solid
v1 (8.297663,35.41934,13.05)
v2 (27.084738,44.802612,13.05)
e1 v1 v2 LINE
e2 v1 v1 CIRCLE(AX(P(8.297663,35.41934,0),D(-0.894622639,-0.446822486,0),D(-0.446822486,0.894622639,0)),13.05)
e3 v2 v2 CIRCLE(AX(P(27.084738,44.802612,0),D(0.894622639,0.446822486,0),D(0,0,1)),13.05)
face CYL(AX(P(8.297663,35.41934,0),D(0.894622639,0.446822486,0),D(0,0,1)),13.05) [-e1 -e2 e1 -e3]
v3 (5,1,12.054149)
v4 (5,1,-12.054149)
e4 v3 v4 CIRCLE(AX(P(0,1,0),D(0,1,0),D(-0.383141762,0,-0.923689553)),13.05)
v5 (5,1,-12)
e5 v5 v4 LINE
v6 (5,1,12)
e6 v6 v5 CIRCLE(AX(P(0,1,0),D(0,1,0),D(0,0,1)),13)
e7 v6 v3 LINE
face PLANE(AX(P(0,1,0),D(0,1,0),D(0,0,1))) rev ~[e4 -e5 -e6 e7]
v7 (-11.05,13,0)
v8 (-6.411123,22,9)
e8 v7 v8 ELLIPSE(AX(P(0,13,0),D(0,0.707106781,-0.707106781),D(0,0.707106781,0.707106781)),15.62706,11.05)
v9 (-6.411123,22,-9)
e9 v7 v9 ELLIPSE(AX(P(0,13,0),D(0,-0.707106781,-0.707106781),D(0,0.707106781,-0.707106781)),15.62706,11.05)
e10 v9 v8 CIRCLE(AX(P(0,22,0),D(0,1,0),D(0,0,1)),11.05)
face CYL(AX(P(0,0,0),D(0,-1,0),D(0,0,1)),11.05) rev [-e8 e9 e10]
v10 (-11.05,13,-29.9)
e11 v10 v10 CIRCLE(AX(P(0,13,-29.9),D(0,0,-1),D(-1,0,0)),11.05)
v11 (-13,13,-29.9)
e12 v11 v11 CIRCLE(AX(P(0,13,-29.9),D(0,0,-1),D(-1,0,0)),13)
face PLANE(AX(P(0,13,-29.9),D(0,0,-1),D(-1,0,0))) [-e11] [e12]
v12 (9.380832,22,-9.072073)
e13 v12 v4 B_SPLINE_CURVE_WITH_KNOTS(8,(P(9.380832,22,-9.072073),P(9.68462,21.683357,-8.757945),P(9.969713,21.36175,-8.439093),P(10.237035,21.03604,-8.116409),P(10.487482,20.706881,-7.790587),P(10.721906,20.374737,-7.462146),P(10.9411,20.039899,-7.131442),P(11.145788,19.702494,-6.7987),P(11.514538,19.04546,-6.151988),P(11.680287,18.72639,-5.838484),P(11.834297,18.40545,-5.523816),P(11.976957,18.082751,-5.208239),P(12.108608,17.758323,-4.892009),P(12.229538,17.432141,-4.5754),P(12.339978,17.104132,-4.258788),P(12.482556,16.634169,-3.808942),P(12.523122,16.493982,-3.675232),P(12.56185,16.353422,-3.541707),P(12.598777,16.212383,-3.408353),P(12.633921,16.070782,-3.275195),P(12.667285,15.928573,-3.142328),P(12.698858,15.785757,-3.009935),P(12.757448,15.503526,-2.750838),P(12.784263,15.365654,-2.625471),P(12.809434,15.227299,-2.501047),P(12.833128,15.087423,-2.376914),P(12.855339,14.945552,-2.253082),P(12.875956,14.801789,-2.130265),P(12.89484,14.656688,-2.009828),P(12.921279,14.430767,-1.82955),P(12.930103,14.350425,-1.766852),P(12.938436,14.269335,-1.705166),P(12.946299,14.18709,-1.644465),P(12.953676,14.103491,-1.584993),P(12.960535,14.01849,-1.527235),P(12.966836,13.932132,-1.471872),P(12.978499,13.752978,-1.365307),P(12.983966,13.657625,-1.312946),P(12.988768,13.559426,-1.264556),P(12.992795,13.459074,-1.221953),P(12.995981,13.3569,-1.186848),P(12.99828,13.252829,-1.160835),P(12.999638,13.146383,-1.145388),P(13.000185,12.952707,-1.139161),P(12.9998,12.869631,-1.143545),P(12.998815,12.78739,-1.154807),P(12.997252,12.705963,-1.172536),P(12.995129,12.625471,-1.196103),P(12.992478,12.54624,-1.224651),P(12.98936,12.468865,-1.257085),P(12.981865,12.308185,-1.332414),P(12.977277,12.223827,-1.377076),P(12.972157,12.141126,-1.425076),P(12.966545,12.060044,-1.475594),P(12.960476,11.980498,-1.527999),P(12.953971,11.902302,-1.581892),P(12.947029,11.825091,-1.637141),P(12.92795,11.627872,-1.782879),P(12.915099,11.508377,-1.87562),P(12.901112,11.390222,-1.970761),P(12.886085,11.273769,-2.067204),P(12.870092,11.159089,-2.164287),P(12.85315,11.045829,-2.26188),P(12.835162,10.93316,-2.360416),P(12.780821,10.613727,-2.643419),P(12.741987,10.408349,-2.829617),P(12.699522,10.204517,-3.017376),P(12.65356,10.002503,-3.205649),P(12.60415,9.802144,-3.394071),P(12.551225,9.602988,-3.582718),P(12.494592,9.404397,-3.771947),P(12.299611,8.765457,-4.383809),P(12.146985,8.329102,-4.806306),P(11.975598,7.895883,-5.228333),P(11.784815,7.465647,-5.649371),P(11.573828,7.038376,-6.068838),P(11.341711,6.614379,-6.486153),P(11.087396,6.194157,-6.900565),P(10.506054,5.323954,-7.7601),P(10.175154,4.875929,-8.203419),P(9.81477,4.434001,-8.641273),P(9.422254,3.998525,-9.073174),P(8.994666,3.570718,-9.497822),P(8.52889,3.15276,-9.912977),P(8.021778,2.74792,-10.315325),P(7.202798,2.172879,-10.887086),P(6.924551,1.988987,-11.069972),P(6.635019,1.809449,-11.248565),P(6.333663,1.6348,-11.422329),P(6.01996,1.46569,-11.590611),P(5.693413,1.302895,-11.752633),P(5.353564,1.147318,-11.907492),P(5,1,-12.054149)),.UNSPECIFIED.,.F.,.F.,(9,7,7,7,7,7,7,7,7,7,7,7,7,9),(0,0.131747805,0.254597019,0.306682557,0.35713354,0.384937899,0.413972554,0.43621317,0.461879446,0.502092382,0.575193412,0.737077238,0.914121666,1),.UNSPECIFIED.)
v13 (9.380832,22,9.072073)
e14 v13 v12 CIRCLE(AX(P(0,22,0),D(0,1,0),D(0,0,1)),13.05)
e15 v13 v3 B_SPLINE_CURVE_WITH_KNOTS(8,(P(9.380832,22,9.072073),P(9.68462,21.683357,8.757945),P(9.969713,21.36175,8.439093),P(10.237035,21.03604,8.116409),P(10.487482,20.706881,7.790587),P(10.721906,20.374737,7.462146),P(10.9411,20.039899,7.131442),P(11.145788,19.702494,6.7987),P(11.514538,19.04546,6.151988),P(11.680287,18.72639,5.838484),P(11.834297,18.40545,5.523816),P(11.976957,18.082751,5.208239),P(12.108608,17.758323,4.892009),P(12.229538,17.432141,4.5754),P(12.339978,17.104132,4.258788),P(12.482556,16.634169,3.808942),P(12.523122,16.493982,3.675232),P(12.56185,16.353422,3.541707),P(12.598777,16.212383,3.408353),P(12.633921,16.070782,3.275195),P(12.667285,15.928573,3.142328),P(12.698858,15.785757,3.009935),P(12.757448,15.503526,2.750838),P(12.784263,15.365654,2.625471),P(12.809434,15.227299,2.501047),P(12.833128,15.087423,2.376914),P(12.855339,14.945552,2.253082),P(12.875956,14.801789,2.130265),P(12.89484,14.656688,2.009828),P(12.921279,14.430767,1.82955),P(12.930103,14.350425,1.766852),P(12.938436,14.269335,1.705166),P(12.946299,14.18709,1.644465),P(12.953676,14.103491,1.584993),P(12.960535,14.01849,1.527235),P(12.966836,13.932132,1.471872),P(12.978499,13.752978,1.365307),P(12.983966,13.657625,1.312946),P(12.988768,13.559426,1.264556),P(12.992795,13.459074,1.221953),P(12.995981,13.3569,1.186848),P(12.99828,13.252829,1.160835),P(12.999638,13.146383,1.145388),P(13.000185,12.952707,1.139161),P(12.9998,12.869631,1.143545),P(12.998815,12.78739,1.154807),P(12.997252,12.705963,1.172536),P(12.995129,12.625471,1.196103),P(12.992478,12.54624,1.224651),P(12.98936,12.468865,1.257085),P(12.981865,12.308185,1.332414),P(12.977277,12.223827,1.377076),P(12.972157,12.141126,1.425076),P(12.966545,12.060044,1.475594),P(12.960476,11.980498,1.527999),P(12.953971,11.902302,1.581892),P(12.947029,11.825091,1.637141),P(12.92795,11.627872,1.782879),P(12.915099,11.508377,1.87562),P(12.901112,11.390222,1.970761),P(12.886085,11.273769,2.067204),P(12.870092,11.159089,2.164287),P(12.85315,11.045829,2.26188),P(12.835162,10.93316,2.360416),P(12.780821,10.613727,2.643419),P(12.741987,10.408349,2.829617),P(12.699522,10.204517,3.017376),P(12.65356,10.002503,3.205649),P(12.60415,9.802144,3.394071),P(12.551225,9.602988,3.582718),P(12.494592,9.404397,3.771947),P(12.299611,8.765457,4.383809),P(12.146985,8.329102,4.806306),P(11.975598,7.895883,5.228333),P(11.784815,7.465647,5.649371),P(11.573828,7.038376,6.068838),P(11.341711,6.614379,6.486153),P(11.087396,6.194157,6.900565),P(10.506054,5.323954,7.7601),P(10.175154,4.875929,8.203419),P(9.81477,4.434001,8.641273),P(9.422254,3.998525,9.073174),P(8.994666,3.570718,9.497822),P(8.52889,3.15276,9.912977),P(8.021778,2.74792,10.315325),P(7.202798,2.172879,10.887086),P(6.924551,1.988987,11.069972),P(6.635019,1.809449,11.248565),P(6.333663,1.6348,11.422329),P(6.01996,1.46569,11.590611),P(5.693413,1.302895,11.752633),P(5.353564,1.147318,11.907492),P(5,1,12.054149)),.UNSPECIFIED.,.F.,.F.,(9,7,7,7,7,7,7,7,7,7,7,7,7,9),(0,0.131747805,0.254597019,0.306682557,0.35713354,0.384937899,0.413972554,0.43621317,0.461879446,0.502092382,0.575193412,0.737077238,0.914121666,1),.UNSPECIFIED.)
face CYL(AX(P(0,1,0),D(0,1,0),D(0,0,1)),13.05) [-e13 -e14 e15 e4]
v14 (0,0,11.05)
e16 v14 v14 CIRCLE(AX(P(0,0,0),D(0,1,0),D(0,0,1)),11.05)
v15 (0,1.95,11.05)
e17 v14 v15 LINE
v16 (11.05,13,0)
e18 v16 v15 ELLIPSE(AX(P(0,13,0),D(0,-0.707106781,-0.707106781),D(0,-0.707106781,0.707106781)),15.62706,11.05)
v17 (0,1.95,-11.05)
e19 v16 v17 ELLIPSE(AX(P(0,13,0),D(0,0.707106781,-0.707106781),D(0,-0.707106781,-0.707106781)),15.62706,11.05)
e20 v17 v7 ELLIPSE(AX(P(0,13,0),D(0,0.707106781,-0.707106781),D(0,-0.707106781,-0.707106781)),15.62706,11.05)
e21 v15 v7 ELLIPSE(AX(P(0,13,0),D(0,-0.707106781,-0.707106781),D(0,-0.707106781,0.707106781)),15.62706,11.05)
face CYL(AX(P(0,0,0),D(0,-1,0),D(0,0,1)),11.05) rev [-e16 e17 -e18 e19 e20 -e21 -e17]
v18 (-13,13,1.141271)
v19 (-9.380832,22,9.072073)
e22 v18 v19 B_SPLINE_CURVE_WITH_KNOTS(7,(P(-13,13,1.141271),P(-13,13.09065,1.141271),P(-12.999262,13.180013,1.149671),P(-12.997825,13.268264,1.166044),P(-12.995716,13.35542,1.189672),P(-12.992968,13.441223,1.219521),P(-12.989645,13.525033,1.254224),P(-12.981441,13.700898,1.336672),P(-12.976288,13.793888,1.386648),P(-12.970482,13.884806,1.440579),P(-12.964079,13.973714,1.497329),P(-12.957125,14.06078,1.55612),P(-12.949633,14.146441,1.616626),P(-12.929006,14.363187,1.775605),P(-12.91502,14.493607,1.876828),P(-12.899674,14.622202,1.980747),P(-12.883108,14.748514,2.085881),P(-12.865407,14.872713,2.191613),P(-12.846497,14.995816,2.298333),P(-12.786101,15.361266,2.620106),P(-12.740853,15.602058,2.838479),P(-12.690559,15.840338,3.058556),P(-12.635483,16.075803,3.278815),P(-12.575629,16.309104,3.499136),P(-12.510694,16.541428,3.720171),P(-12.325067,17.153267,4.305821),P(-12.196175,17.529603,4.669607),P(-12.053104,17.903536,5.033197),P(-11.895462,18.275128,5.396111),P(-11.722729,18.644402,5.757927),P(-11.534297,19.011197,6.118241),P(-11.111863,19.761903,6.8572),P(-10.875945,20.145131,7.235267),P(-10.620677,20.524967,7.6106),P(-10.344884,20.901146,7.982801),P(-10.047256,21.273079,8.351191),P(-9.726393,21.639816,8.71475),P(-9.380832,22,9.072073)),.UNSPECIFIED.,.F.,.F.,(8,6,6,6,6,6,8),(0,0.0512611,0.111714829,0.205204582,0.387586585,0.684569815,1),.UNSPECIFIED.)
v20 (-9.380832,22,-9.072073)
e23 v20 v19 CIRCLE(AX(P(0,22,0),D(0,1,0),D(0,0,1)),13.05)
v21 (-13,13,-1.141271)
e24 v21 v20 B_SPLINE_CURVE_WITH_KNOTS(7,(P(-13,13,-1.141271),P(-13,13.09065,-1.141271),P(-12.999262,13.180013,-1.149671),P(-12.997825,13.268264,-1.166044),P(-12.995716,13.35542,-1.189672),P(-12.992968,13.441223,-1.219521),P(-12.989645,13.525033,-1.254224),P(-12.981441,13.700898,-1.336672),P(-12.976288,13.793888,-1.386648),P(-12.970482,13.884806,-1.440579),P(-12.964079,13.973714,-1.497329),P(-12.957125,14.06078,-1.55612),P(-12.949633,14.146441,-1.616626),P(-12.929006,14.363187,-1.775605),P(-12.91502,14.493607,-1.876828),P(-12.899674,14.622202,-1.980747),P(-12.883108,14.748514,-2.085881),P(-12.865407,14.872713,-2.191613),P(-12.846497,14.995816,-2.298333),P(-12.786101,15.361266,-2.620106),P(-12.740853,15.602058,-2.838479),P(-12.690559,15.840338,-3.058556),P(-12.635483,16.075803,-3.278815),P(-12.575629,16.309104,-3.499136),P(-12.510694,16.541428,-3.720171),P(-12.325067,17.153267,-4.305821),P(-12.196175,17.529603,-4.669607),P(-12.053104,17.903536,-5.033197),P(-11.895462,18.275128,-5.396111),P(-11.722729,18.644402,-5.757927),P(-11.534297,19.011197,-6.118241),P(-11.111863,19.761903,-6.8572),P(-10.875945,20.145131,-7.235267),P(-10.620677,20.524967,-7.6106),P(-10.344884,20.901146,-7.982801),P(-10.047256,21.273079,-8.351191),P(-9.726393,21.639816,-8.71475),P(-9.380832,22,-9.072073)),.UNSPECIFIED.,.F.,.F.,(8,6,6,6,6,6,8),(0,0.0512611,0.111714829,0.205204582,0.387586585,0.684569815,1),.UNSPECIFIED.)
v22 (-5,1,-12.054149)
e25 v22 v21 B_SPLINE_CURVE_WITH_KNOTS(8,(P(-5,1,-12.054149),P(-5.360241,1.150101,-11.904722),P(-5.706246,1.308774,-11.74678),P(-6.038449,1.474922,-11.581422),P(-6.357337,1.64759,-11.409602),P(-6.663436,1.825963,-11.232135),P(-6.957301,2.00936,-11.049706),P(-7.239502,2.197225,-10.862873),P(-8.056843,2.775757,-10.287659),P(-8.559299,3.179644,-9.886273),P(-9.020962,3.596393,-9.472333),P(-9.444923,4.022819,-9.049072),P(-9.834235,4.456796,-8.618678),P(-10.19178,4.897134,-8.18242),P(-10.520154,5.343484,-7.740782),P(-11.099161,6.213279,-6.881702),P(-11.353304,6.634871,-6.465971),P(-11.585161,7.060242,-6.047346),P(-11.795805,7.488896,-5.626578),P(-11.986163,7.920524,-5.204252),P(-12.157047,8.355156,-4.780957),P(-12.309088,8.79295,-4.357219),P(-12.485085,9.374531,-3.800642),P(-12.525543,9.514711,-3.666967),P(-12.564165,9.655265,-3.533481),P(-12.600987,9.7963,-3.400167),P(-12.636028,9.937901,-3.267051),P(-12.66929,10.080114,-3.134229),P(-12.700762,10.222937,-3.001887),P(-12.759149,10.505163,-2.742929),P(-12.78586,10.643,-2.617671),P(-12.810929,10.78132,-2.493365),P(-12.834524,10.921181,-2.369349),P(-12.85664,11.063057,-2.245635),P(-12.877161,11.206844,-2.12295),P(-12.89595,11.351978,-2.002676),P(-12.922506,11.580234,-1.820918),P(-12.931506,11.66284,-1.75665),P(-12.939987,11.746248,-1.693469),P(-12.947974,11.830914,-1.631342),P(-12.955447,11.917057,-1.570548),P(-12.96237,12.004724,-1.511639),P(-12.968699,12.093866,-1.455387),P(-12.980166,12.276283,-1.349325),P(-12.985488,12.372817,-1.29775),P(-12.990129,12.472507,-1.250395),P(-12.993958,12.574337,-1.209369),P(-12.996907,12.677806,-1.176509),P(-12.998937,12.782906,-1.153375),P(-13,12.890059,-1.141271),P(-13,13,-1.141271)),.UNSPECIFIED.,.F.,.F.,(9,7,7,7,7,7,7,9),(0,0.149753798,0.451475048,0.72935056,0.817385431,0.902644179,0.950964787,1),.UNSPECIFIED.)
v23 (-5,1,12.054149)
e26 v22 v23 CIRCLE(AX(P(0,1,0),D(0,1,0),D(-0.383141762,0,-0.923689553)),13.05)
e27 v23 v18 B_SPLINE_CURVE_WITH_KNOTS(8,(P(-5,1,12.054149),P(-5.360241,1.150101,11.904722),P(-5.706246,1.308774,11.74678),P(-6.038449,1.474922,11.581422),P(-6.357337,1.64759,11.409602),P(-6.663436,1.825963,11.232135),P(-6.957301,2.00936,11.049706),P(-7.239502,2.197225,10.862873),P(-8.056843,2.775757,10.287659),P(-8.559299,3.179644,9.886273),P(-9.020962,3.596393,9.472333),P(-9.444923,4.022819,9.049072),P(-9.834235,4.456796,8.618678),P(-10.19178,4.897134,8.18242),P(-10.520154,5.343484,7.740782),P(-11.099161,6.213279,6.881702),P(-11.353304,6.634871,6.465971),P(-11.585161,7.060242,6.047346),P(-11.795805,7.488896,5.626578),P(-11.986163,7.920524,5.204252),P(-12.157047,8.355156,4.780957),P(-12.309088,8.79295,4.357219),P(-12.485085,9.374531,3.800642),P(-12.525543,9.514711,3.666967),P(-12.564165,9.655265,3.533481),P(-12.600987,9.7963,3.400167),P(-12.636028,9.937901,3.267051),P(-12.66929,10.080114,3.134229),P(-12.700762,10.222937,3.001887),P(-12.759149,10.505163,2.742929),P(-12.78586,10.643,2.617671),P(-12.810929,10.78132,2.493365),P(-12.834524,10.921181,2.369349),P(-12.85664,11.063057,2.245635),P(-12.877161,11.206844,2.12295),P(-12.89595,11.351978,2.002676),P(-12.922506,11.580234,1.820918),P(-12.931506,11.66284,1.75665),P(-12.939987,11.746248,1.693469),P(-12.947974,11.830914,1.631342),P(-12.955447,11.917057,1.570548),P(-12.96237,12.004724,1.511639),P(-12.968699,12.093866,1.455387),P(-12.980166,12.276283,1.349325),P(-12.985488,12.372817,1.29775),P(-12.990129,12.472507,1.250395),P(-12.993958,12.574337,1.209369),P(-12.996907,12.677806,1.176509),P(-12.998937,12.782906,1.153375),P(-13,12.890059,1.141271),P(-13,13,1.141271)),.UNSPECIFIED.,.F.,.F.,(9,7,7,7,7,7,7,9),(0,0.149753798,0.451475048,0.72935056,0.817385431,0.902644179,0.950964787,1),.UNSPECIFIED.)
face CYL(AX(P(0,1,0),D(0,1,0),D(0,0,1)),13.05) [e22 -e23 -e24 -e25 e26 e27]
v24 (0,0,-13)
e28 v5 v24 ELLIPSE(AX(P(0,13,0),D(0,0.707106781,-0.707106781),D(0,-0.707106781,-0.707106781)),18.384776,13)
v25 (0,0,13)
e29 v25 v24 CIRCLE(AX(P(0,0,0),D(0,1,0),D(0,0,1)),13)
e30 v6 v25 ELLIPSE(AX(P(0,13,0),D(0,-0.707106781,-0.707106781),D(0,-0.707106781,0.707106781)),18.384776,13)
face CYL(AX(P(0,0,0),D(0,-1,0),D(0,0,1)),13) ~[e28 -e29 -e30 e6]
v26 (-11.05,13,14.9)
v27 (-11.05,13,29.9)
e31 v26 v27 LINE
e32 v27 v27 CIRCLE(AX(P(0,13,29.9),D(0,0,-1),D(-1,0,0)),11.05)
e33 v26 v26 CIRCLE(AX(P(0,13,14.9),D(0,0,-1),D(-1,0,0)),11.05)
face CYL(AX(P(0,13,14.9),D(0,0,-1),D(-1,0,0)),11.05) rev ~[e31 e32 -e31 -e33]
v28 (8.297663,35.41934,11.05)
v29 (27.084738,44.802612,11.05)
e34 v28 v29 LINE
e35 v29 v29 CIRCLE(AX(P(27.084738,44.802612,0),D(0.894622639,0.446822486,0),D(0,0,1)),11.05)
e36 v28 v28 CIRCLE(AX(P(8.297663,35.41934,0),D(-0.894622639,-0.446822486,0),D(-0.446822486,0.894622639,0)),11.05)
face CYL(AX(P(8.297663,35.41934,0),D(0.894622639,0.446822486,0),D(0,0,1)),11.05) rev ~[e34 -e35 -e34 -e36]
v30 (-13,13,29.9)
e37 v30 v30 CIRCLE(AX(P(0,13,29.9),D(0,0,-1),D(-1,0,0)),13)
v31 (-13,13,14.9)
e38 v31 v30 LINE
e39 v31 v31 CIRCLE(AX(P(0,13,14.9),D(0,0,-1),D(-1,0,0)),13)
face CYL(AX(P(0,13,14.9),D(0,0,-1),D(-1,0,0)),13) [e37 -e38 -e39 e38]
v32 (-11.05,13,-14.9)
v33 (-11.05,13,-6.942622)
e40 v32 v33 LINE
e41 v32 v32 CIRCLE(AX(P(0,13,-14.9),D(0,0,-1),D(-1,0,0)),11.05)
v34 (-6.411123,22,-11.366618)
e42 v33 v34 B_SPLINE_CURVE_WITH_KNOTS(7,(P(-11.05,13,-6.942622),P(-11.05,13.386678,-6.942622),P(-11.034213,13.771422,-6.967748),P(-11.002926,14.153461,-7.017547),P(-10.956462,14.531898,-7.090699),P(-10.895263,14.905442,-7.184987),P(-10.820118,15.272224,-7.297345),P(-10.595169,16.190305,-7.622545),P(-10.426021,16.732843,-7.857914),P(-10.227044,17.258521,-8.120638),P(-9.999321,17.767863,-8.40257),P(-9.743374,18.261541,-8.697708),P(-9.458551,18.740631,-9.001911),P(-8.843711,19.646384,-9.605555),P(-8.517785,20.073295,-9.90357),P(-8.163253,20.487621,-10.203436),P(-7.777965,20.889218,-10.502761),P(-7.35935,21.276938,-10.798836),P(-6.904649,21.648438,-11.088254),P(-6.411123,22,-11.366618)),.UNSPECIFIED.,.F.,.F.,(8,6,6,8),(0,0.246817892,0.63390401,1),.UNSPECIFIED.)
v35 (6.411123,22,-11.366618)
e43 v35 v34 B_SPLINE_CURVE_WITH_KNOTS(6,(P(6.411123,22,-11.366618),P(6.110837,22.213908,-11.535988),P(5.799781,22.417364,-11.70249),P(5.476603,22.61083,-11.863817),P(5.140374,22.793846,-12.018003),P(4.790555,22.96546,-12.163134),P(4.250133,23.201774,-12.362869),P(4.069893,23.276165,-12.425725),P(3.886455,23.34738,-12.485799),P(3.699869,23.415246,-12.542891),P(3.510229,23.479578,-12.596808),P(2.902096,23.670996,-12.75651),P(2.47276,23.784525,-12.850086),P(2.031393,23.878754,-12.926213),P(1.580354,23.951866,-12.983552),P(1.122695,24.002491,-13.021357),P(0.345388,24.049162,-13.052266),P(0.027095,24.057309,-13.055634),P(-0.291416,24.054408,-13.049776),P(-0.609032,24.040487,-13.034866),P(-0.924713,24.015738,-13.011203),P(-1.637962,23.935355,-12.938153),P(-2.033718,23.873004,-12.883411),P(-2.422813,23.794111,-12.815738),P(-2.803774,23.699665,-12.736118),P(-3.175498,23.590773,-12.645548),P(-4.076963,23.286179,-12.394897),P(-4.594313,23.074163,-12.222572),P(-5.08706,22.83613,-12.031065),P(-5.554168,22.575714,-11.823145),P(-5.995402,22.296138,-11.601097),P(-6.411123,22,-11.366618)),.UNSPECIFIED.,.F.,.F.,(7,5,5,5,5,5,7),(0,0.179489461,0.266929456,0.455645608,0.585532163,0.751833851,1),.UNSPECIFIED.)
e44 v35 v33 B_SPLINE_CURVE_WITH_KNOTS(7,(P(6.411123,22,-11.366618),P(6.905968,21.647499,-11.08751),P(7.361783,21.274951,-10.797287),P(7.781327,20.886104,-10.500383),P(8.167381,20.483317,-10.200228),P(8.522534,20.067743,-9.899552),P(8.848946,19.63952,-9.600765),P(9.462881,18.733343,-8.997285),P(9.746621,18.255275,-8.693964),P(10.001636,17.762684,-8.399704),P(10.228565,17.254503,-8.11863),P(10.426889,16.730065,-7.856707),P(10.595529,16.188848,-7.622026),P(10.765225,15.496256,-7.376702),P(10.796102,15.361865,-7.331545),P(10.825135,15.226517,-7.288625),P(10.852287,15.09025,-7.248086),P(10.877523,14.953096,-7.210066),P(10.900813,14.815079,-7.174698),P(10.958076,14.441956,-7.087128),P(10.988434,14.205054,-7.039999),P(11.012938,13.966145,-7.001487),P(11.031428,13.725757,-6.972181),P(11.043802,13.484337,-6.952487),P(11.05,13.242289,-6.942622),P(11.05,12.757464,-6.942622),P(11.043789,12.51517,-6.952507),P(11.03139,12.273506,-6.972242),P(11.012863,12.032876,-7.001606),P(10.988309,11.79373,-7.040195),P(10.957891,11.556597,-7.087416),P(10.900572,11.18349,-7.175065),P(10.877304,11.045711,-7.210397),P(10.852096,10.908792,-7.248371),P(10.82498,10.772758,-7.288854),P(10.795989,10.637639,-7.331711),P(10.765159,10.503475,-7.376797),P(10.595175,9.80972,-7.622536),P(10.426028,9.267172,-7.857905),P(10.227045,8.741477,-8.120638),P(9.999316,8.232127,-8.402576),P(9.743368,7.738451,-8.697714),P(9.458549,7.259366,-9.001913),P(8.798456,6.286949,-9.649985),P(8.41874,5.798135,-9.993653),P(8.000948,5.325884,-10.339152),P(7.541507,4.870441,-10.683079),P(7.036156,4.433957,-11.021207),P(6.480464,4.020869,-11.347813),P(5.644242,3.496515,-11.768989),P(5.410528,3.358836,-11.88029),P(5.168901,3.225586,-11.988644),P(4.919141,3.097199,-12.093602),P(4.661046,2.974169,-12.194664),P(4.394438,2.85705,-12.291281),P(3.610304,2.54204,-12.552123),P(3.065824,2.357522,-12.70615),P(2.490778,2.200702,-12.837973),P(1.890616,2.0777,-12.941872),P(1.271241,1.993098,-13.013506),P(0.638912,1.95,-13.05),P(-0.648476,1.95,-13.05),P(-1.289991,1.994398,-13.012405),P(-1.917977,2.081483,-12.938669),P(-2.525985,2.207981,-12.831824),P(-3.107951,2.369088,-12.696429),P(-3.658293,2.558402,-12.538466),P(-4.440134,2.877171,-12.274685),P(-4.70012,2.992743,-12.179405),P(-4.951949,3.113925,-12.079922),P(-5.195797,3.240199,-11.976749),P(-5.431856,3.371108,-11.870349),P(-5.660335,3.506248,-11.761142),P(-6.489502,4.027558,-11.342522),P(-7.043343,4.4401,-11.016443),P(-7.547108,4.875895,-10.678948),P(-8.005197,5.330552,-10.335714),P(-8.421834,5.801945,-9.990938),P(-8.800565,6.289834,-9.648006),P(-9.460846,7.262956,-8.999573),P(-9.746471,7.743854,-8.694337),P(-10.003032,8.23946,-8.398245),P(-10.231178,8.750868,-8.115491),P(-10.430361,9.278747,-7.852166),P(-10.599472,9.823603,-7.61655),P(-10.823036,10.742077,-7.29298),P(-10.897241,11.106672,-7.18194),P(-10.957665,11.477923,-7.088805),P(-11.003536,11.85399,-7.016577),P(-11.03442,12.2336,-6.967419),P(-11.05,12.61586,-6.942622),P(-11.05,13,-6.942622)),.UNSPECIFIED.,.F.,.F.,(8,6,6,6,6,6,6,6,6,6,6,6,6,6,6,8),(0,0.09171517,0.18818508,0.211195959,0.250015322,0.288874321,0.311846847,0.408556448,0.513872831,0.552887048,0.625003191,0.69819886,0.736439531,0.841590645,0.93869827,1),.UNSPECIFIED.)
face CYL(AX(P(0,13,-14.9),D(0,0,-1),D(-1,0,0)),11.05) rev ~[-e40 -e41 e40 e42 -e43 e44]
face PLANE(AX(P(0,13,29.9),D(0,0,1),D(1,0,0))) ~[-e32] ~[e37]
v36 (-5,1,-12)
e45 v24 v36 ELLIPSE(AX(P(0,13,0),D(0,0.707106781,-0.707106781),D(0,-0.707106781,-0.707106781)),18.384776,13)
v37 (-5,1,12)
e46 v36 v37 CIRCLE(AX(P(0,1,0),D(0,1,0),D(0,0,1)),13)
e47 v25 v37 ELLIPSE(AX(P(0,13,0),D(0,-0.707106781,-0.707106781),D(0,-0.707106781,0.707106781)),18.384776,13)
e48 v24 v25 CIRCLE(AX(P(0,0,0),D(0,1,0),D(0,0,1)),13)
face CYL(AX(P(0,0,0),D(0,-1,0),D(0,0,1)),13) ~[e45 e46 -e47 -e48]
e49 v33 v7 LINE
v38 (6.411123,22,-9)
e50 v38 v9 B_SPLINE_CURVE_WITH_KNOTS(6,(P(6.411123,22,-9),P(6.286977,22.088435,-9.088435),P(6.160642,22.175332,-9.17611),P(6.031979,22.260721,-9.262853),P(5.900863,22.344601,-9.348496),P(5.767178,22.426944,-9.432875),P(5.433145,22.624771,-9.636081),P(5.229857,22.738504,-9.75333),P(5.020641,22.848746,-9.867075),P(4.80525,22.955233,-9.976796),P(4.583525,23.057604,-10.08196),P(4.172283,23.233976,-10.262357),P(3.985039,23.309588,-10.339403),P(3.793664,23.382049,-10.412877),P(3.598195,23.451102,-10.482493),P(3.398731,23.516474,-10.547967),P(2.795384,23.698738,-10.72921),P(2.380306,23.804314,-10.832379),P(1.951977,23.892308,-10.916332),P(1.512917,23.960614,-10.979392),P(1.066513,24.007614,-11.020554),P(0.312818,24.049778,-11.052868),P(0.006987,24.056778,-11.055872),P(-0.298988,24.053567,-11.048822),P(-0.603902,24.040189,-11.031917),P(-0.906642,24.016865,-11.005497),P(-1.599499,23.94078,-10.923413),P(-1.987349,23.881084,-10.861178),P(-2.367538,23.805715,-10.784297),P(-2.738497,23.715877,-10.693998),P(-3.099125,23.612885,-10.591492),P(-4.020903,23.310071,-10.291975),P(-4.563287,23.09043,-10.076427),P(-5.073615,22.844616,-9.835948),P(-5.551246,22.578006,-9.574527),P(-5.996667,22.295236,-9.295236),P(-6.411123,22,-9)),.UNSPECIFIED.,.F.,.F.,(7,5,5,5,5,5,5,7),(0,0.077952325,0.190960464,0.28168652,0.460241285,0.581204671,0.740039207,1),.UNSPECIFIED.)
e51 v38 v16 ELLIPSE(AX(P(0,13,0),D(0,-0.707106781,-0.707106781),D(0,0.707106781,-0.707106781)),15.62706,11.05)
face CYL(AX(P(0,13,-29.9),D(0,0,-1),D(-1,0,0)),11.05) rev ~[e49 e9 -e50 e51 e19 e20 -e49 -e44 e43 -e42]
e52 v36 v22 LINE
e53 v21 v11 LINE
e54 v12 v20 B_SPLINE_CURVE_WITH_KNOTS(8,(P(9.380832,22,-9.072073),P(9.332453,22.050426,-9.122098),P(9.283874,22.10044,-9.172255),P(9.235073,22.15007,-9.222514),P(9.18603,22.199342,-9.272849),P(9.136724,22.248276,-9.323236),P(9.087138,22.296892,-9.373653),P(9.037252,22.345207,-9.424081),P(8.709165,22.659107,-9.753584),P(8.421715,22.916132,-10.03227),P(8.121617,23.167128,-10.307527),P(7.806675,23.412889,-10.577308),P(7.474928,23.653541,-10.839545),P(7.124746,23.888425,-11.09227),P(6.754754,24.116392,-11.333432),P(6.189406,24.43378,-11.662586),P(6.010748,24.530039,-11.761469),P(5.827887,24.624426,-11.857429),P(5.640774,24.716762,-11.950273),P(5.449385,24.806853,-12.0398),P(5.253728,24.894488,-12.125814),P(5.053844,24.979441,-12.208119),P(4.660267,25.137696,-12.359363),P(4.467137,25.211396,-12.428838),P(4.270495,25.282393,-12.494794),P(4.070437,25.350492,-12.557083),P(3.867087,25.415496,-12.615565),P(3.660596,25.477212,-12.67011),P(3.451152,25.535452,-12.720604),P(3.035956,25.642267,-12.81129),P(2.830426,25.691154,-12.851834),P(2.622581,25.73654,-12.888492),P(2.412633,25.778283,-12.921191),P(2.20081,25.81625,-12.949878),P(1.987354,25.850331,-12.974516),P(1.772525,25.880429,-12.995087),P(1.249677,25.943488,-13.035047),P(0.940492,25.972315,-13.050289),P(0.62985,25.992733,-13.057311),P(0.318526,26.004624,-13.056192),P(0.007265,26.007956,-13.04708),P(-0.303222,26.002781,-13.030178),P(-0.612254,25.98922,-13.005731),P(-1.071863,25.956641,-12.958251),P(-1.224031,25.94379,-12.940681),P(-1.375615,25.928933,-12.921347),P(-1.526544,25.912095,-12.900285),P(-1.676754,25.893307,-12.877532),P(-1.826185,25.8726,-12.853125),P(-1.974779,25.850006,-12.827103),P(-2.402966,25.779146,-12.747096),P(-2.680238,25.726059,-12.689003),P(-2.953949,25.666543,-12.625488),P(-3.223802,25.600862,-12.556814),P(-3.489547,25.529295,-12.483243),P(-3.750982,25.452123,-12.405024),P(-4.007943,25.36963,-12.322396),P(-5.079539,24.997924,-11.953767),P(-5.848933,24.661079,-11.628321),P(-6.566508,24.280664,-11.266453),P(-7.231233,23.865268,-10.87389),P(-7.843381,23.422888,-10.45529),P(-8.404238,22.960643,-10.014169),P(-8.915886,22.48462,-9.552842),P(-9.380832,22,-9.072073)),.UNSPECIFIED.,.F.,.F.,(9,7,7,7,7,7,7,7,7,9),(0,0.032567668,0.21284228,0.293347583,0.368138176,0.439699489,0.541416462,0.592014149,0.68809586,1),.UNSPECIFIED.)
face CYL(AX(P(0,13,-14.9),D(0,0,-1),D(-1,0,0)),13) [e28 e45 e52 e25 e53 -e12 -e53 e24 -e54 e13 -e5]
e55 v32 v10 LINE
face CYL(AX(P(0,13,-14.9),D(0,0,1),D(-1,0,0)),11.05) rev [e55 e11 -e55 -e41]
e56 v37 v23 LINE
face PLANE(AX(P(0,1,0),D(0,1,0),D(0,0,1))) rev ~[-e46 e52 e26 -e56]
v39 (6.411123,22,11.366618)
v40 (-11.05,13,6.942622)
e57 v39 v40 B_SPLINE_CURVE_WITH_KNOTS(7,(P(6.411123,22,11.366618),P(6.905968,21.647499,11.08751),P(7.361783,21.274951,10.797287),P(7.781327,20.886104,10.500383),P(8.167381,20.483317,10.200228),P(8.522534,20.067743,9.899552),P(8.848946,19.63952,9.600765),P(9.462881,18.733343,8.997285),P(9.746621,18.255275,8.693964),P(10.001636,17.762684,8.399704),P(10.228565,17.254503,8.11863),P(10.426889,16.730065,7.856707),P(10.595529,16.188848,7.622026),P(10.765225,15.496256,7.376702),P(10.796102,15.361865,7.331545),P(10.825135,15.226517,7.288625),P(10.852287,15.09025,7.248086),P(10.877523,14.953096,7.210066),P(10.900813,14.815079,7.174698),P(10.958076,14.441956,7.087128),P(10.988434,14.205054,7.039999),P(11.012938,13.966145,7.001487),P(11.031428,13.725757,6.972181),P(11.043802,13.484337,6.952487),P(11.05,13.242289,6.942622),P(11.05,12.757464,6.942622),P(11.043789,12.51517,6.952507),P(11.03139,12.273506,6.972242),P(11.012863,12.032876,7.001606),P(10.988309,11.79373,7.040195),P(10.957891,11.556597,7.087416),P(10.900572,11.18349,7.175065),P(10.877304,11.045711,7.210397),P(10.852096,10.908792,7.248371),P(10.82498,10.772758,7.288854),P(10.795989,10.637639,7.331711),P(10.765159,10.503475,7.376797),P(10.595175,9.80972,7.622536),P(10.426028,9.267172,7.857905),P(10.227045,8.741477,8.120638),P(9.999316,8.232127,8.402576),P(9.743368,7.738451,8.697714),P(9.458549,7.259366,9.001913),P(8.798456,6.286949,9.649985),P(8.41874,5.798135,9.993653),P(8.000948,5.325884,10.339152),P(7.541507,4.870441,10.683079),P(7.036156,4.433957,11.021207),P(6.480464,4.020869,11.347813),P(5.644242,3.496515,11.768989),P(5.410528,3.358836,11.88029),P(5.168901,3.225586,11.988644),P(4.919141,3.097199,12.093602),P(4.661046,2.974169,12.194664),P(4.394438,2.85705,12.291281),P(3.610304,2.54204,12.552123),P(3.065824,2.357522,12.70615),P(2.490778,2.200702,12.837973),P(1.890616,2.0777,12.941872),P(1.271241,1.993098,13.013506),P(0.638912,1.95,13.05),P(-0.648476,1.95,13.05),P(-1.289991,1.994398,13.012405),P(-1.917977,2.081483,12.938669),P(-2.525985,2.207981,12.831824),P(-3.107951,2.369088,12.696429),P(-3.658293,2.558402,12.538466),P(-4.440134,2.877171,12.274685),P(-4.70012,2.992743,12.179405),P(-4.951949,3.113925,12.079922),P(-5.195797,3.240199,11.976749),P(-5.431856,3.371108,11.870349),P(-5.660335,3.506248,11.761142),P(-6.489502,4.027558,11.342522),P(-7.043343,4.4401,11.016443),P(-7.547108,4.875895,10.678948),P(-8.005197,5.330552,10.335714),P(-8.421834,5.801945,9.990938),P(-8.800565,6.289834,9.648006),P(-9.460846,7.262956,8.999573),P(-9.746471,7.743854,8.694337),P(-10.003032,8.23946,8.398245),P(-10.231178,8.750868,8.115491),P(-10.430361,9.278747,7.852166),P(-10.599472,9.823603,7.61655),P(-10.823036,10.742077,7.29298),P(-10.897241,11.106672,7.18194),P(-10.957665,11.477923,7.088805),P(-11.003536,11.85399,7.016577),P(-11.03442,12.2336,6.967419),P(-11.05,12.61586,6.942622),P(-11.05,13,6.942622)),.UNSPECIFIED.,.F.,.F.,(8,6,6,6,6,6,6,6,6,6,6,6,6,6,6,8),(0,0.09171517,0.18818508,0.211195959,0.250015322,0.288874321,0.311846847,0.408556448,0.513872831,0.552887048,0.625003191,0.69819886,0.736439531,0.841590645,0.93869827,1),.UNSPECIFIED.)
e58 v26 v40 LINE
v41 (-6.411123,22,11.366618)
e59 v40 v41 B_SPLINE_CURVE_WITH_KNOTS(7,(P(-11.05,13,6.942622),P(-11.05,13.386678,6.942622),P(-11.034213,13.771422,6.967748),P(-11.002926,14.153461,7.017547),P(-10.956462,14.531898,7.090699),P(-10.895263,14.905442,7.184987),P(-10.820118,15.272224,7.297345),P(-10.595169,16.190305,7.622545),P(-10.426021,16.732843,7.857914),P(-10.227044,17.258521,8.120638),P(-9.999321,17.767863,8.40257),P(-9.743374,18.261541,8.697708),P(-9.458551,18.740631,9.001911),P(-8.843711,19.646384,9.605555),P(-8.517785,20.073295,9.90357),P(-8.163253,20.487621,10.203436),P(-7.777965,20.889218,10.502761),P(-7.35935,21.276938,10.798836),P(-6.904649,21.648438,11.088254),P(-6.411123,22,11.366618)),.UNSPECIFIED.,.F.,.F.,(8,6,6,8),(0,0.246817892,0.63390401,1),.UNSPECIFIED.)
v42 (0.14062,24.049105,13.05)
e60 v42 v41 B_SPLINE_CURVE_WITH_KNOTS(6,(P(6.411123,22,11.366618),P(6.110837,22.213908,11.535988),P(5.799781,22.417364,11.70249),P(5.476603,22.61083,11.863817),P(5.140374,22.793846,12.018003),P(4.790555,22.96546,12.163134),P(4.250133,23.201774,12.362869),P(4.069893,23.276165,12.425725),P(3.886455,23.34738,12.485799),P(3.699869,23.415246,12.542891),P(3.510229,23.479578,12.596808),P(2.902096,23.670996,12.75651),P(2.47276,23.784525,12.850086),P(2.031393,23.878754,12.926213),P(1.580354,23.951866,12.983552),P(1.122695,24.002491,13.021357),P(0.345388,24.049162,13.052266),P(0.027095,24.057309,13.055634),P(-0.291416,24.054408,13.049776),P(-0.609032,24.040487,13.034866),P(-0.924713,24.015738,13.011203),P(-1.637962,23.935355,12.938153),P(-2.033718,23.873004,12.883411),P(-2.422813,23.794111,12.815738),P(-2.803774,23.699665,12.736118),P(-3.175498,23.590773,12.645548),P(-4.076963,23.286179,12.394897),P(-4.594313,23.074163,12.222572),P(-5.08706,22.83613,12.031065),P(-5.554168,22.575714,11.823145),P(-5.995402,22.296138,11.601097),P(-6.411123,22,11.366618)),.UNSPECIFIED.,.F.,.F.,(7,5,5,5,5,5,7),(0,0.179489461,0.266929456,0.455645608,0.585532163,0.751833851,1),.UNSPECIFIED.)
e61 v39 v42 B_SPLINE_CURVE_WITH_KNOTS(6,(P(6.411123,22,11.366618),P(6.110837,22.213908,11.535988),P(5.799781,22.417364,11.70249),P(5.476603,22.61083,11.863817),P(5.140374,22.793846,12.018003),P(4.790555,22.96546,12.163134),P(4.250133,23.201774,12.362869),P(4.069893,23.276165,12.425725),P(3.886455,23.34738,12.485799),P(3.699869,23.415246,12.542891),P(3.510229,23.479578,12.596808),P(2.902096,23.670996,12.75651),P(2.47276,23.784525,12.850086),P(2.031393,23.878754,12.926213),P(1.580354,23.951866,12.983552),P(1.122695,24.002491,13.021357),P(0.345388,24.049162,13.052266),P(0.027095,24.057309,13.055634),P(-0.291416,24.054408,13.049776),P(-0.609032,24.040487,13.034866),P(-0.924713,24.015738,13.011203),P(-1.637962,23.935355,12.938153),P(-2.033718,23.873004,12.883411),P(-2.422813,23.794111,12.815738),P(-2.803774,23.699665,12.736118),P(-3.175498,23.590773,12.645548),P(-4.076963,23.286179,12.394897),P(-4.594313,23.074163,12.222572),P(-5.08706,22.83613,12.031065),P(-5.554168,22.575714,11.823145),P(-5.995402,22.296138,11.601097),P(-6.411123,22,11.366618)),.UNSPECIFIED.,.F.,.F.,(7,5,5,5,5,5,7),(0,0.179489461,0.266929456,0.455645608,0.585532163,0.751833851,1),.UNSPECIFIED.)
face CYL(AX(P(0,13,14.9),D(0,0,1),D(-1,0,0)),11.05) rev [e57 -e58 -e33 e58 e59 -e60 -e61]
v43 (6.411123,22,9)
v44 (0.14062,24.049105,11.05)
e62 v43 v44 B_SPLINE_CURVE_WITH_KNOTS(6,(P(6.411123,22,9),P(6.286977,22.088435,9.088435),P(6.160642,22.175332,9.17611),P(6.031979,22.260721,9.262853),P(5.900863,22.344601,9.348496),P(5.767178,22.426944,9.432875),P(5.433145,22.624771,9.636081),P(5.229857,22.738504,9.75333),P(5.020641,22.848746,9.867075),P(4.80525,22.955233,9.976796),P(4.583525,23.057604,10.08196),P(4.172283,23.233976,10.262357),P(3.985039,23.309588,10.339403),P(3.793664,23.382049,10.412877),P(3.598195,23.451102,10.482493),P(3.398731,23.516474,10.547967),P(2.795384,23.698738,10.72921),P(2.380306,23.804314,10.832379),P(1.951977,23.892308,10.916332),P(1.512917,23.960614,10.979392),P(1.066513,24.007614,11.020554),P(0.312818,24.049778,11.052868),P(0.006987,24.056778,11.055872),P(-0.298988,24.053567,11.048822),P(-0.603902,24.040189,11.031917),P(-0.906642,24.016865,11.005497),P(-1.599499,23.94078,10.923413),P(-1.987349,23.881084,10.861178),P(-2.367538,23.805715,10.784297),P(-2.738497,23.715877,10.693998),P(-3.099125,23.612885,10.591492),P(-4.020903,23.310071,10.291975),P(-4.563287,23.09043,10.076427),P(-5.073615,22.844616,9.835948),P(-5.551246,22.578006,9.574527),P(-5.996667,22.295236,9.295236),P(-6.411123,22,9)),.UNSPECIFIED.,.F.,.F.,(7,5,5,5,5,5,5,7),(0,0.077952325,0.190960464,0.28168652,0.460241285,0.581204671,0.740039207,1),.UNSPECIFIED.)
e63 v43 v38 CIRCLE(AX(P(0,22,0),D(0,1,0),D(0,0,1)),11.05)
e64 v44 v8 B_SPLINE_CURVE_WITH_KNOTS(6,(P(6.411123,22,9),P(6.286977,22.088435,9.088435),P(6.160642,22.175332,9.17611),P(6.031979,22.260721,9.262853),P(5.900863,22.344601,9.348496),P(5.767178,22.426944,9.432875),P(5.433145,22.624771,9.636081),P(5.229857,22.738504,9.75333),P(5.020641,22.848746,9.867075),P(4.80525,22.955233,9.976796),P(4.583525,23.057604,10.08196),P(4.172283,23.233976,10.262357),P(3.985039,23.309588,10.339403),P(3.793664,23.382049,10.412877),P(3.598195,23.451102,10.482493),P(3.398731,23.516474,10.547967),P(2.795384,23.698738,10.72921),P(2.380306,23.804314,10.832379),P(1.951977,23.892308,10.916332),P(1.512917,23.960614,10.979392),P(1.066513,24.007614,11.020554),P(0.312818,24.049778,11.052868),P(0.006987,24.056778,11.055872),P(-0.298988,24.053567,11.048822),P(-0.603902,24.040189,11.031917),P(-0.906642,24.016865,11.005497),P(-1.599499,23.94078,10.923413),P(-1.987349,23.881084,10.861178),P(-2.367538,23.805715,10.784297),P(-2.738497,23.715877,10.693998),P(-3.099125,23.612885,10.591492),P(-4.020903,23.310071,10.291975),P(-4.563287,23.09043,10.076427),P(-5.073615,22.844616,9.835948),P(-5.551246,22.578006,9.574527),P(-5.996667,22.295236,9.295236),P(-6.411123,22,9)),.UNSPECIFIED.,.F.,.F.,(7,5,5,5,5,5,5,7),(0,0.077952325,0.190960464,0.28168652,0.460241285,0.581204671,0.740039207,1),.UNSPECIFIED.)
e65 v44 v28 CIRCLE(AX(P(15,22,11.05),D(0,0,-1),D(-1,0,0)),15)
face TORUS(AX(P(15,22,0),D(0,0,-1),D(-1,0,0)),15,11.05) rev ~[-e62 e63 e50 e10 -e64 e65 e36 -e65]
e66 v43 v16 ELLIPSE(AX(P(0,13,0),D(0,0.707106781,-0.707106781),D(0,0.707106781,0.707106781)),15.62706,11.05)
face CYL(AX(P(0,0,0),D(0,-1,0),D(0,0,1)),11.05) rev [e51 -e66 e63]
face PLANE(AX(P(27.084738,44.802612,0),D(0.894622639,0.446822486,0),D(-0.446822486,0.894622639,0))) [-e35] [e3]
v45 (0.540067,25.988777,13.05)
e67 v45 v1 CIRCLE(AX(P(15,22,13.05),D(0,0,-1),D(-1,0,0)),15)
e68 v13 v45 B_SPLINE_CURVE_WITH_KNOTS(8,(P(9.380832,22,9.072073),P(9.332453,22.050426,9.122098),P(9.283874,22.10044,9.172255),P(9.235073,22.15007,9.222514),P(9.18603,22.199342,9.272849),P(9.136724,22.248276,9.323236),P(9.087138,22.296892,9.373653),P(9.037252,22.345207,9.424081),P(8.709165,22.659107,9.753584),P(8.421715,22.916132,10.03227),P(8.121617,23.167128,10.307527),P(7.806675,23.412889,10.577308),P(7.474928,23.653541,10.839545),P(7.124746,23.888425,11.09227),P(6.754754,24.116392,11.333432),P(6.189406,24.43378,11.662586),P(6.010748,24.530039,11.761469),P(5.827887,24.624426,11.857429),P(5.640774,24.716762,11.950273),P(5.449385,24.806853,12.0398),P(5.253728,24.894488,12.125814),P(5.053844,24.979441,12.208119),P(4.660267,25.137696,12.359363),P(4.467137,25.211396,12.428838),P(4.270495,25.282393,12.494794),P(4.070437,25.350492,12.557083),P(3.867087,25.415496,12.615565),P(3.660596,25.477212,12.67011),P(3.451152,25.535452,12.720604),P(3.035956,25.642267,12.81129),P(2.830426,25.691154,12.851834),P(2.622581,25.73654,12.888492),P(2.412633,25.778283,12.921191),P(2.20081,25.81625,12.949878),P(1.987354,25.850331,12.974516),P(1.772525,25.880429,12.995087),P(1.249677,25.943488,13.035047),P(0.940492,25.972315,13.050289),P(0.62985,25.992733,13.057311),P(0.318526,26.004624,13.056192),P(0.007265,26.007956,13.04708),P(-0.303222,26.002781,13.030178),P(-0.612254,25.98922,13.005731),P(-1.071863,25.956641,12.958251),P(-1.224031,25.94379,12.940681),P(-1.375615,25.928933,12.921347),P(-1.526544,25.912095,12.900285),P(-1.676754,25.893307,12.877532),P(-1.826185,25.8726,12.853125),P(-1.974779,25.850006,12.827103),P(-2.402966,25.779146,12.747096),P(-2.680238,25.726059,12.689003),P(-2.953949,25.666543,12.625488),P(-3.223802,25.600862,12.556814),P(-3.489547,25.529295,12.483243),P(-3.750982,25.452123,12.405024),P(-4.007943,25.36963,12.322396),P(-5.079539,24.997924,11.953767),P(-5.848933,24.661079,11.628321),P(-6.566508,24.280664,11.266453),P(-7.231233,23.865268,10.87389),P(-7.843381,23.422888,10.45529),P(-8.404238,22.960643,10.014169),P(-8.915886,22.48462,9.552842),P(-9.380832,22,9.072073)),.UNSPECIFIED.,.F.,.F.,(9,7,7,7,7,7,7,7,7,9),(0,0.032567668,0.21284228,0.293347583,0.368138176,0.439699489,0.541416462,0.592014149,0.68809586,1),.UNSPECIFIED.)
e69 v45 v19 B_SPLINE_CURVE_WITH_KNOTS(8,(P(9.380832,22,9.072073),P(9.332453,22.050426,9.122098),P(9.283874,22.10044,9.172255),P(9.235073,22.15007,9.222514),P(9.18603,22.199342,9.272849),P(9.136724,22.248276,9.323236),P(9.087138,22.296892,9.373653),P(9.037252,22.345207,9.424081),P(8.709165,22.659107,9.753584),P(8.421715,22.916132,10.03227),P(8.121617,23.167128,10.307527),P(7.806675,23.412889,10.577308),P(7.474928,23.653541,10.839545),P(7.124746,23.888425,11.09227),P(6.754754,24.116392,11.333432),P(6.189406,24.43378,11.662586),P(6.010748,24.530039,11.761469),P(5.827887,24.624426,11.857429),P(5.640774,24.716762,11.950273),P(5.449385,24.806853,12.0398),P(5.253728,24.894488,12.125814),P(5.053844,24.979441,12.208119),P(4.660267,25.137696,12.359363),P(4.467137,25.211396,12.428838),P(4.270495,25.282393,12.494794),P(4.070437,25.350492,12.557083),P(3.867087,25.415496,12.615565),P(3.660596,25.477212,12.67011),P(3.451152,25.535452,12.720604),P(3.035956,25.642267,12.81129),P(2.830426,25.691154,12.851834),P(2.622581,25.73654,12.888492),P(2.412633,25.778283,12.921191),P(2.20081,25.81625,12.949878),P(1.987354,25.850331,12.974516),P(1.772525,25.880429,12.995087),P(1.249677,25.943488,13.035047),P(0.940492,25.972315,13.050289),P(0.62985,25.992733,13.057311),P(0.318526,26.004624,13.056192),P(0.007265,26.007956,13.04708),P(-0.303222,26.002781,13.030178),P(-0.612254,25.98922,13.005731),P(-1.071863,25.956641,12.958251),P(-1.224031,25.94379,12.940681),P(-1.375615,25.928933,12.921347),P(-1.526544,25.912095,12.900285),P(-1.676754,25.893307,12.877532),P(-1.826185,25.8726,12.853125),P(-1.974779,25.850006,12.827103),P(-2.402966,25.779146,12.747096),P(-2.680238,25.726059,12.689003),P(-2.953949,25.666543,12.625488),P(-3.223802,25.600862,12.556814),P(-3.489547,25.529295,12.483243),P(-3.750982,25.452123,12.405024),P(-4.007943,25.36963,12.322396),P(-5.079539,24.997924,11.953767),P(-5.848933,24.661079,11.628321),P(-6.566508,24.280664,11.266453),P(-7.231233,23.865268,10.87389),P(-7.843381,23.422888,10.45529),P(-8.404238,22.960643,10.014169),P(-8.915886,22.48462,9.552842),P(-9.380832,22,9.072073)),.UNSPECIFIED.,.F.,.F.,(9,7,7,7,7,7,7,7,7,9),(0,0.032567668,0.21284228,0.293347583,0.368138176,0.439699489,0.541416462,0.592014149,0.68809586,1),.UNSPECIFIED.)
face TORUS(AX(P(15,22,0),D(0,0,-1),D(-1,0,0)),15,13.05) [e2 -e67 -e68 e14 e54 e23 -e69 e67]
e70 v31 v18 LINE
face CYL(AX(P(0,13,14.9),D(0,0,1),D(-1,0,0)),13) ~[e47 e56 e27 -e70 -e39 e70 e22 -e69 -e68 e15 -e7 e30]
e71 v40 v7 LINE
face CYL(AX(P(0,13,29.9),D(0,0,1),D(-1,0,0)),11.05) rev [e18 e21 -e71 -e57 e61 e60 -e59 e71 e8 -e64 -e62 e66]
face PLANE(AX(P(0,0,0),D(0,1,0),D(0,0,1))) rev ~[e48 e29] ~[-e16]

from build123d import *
from build123d.topology import SkipClean

# Parameters (mm, degrees)
CROQUIS1_R                          = 13
CROQUIS1_R_2                        = 11.05
SALIENTE_EXTRUIR1_DEPTH             = 1
BARRER_L_MINA1_PROFILE_R            = 13.05
BARRER_L_MINA1_PROFILE_R_2          = 11.05
CROQUIS35_R                         = 13
CROQUIS35_R_2                       = 11.05
SALIENTE_EXTRUIR3_DEPTH             = 15
SALIENTE_EXTRUIR3_DIRECTION_2_REACH = 73.094
CORTAR_EXTRUIR1_REACH               = 80.217
CROQUIS37_R                         = 11.05


with BuildPart() as part:
    # Croquis1 → Saliente-Extruir1 (new body)
    with BuildSketch(Plane(origin=(0, 0, 0), x_dir=(1, 0, 0), z_dir=(0, 1, 0))):
        with Locations(Location((0, 0, 0), (0, 0, 270))):
            Circle(CROQUIS1_R)
        with Locations(Location((0, 0, 0), (0, 0, 270))):
            Circle(CROQUIS1_R_2, mode=Mode.SUBTRACT)
    extrude(amount=SALIENTE_EXTRUIR1_DEPTH)

    # Barrer-L_mina1: sweep along a path in Croquis2
    with BuildLine(Plane.XY) as barrer_l_mina1_path:
        Line((0, 1), (0, 22))
        ThreePointArc((0, 22), (2.241962153, 29.88875594), (8.297662704, 35.41933958))
        Line((8.297662704, 35.41933958), (27.084738117, 44.802611794))
    # Barrer-L_mina1 profile (on start of the path) → Barrer-L_mina1 (sweep)
    with BuildSketch(Plane.ZX.offset(1)):
        Circle(BARRER_L_MINA1_PROFILE_R)
        Circle(BARRER_L_MINA1_PROFILE_R_2, mode=Mode.SUBTRACT)
    sweep(path=barrer_l_mina1_path.line)

    # Croquis35 → Saliente-Extruir3 (add)
    with BuildSketch(Plane(origin=(0, 0, -14.9), x_dir=(-1, 0, 0), z_dir=(0, 0, -1))):
        with Locations((0, 13)):
            Circle(CROQUIS35_R)
        with Locations((0, 13)):
            Circle(CROQUIS35_R_2, mode=Mode.SUBTRACT)
    saliente_extruir3 = extrude(amount=SALIENTE_EXTRUIR3_DEPTH)

    # Croquis35 → Saliente-Extruir3 direction 2 (add, up to next)
    with BuildSketch(Plane(origin=(0, 0, -14.9), x_dir=(-1, 0, 0), z_dir=(0, 0, -1)), mode=Mode.PRIVATE) as saliente_extruir3_direction_2_sk1:
        with Locations((0, 13)):
            Circle(CROQUIS35_R)
        with Locations((0, 13)):
            Circle(CROQUIS35_R_2, mode=Mode.SUBTRACT)
    saliente_extruir3_direction_2_tool1 = extrude(saliente_extruir3_direction_2_sk1.sketch, amount=-SALIENTE_EXTRUIR3_DIRECTION_2_REACH, mode=Mode.PRIVATE) - part.part
    saliente_extruir3_direction_2 = saliente_extruir3_direction_2_tool1.solids().sort_by_distance((12.632304, 13, -14.9))[0]
    add(saliente_extruir3_direction_2)

    # Croquis37 → Cortar-Extruir1 (cut, up to next)
    with BuildSketch(Plane(origin=(0, 0, -29.9), x_dir=(-1, 0, 0), z_dir=(0, 0, -1)), mode=Mode.PRIVATE) as cortar_extruir1_sk1:
        with Locations((0, 13)):
            Circle(CROQUIS37_R)
    cortar_extruir1_tool1 = extrude(cortar_extruir1_sk1.sketch, amount=-CORTAR_EXTRUIR1_REACH, mode=Mode.PRIVATE) & part.part
    cortar_extruir1 = cortar_extruir1_tool1.solids().sort_by_distance((0, 13, -29.9))[0]
    add(cortar_extruir1, mode=Mode.SUBTRACT)

    # Simetr_a1: Saliente-Extruir3, Saliente-Extruir3 direction 2, Cortar-Extruir1 across plane
    with SkipClean():  # the faces are left unmerged after this step: merging them gives an invalid solid
        add(saliente_extruir3.mirror(Plane.XY))
        add(saliente_extruir3_direction_2.mirror(Plane.XY))
        add(cortar_extruir1.mirror(Plane.XY), mode=Mode.SUBTRACT)


solid = part.part
